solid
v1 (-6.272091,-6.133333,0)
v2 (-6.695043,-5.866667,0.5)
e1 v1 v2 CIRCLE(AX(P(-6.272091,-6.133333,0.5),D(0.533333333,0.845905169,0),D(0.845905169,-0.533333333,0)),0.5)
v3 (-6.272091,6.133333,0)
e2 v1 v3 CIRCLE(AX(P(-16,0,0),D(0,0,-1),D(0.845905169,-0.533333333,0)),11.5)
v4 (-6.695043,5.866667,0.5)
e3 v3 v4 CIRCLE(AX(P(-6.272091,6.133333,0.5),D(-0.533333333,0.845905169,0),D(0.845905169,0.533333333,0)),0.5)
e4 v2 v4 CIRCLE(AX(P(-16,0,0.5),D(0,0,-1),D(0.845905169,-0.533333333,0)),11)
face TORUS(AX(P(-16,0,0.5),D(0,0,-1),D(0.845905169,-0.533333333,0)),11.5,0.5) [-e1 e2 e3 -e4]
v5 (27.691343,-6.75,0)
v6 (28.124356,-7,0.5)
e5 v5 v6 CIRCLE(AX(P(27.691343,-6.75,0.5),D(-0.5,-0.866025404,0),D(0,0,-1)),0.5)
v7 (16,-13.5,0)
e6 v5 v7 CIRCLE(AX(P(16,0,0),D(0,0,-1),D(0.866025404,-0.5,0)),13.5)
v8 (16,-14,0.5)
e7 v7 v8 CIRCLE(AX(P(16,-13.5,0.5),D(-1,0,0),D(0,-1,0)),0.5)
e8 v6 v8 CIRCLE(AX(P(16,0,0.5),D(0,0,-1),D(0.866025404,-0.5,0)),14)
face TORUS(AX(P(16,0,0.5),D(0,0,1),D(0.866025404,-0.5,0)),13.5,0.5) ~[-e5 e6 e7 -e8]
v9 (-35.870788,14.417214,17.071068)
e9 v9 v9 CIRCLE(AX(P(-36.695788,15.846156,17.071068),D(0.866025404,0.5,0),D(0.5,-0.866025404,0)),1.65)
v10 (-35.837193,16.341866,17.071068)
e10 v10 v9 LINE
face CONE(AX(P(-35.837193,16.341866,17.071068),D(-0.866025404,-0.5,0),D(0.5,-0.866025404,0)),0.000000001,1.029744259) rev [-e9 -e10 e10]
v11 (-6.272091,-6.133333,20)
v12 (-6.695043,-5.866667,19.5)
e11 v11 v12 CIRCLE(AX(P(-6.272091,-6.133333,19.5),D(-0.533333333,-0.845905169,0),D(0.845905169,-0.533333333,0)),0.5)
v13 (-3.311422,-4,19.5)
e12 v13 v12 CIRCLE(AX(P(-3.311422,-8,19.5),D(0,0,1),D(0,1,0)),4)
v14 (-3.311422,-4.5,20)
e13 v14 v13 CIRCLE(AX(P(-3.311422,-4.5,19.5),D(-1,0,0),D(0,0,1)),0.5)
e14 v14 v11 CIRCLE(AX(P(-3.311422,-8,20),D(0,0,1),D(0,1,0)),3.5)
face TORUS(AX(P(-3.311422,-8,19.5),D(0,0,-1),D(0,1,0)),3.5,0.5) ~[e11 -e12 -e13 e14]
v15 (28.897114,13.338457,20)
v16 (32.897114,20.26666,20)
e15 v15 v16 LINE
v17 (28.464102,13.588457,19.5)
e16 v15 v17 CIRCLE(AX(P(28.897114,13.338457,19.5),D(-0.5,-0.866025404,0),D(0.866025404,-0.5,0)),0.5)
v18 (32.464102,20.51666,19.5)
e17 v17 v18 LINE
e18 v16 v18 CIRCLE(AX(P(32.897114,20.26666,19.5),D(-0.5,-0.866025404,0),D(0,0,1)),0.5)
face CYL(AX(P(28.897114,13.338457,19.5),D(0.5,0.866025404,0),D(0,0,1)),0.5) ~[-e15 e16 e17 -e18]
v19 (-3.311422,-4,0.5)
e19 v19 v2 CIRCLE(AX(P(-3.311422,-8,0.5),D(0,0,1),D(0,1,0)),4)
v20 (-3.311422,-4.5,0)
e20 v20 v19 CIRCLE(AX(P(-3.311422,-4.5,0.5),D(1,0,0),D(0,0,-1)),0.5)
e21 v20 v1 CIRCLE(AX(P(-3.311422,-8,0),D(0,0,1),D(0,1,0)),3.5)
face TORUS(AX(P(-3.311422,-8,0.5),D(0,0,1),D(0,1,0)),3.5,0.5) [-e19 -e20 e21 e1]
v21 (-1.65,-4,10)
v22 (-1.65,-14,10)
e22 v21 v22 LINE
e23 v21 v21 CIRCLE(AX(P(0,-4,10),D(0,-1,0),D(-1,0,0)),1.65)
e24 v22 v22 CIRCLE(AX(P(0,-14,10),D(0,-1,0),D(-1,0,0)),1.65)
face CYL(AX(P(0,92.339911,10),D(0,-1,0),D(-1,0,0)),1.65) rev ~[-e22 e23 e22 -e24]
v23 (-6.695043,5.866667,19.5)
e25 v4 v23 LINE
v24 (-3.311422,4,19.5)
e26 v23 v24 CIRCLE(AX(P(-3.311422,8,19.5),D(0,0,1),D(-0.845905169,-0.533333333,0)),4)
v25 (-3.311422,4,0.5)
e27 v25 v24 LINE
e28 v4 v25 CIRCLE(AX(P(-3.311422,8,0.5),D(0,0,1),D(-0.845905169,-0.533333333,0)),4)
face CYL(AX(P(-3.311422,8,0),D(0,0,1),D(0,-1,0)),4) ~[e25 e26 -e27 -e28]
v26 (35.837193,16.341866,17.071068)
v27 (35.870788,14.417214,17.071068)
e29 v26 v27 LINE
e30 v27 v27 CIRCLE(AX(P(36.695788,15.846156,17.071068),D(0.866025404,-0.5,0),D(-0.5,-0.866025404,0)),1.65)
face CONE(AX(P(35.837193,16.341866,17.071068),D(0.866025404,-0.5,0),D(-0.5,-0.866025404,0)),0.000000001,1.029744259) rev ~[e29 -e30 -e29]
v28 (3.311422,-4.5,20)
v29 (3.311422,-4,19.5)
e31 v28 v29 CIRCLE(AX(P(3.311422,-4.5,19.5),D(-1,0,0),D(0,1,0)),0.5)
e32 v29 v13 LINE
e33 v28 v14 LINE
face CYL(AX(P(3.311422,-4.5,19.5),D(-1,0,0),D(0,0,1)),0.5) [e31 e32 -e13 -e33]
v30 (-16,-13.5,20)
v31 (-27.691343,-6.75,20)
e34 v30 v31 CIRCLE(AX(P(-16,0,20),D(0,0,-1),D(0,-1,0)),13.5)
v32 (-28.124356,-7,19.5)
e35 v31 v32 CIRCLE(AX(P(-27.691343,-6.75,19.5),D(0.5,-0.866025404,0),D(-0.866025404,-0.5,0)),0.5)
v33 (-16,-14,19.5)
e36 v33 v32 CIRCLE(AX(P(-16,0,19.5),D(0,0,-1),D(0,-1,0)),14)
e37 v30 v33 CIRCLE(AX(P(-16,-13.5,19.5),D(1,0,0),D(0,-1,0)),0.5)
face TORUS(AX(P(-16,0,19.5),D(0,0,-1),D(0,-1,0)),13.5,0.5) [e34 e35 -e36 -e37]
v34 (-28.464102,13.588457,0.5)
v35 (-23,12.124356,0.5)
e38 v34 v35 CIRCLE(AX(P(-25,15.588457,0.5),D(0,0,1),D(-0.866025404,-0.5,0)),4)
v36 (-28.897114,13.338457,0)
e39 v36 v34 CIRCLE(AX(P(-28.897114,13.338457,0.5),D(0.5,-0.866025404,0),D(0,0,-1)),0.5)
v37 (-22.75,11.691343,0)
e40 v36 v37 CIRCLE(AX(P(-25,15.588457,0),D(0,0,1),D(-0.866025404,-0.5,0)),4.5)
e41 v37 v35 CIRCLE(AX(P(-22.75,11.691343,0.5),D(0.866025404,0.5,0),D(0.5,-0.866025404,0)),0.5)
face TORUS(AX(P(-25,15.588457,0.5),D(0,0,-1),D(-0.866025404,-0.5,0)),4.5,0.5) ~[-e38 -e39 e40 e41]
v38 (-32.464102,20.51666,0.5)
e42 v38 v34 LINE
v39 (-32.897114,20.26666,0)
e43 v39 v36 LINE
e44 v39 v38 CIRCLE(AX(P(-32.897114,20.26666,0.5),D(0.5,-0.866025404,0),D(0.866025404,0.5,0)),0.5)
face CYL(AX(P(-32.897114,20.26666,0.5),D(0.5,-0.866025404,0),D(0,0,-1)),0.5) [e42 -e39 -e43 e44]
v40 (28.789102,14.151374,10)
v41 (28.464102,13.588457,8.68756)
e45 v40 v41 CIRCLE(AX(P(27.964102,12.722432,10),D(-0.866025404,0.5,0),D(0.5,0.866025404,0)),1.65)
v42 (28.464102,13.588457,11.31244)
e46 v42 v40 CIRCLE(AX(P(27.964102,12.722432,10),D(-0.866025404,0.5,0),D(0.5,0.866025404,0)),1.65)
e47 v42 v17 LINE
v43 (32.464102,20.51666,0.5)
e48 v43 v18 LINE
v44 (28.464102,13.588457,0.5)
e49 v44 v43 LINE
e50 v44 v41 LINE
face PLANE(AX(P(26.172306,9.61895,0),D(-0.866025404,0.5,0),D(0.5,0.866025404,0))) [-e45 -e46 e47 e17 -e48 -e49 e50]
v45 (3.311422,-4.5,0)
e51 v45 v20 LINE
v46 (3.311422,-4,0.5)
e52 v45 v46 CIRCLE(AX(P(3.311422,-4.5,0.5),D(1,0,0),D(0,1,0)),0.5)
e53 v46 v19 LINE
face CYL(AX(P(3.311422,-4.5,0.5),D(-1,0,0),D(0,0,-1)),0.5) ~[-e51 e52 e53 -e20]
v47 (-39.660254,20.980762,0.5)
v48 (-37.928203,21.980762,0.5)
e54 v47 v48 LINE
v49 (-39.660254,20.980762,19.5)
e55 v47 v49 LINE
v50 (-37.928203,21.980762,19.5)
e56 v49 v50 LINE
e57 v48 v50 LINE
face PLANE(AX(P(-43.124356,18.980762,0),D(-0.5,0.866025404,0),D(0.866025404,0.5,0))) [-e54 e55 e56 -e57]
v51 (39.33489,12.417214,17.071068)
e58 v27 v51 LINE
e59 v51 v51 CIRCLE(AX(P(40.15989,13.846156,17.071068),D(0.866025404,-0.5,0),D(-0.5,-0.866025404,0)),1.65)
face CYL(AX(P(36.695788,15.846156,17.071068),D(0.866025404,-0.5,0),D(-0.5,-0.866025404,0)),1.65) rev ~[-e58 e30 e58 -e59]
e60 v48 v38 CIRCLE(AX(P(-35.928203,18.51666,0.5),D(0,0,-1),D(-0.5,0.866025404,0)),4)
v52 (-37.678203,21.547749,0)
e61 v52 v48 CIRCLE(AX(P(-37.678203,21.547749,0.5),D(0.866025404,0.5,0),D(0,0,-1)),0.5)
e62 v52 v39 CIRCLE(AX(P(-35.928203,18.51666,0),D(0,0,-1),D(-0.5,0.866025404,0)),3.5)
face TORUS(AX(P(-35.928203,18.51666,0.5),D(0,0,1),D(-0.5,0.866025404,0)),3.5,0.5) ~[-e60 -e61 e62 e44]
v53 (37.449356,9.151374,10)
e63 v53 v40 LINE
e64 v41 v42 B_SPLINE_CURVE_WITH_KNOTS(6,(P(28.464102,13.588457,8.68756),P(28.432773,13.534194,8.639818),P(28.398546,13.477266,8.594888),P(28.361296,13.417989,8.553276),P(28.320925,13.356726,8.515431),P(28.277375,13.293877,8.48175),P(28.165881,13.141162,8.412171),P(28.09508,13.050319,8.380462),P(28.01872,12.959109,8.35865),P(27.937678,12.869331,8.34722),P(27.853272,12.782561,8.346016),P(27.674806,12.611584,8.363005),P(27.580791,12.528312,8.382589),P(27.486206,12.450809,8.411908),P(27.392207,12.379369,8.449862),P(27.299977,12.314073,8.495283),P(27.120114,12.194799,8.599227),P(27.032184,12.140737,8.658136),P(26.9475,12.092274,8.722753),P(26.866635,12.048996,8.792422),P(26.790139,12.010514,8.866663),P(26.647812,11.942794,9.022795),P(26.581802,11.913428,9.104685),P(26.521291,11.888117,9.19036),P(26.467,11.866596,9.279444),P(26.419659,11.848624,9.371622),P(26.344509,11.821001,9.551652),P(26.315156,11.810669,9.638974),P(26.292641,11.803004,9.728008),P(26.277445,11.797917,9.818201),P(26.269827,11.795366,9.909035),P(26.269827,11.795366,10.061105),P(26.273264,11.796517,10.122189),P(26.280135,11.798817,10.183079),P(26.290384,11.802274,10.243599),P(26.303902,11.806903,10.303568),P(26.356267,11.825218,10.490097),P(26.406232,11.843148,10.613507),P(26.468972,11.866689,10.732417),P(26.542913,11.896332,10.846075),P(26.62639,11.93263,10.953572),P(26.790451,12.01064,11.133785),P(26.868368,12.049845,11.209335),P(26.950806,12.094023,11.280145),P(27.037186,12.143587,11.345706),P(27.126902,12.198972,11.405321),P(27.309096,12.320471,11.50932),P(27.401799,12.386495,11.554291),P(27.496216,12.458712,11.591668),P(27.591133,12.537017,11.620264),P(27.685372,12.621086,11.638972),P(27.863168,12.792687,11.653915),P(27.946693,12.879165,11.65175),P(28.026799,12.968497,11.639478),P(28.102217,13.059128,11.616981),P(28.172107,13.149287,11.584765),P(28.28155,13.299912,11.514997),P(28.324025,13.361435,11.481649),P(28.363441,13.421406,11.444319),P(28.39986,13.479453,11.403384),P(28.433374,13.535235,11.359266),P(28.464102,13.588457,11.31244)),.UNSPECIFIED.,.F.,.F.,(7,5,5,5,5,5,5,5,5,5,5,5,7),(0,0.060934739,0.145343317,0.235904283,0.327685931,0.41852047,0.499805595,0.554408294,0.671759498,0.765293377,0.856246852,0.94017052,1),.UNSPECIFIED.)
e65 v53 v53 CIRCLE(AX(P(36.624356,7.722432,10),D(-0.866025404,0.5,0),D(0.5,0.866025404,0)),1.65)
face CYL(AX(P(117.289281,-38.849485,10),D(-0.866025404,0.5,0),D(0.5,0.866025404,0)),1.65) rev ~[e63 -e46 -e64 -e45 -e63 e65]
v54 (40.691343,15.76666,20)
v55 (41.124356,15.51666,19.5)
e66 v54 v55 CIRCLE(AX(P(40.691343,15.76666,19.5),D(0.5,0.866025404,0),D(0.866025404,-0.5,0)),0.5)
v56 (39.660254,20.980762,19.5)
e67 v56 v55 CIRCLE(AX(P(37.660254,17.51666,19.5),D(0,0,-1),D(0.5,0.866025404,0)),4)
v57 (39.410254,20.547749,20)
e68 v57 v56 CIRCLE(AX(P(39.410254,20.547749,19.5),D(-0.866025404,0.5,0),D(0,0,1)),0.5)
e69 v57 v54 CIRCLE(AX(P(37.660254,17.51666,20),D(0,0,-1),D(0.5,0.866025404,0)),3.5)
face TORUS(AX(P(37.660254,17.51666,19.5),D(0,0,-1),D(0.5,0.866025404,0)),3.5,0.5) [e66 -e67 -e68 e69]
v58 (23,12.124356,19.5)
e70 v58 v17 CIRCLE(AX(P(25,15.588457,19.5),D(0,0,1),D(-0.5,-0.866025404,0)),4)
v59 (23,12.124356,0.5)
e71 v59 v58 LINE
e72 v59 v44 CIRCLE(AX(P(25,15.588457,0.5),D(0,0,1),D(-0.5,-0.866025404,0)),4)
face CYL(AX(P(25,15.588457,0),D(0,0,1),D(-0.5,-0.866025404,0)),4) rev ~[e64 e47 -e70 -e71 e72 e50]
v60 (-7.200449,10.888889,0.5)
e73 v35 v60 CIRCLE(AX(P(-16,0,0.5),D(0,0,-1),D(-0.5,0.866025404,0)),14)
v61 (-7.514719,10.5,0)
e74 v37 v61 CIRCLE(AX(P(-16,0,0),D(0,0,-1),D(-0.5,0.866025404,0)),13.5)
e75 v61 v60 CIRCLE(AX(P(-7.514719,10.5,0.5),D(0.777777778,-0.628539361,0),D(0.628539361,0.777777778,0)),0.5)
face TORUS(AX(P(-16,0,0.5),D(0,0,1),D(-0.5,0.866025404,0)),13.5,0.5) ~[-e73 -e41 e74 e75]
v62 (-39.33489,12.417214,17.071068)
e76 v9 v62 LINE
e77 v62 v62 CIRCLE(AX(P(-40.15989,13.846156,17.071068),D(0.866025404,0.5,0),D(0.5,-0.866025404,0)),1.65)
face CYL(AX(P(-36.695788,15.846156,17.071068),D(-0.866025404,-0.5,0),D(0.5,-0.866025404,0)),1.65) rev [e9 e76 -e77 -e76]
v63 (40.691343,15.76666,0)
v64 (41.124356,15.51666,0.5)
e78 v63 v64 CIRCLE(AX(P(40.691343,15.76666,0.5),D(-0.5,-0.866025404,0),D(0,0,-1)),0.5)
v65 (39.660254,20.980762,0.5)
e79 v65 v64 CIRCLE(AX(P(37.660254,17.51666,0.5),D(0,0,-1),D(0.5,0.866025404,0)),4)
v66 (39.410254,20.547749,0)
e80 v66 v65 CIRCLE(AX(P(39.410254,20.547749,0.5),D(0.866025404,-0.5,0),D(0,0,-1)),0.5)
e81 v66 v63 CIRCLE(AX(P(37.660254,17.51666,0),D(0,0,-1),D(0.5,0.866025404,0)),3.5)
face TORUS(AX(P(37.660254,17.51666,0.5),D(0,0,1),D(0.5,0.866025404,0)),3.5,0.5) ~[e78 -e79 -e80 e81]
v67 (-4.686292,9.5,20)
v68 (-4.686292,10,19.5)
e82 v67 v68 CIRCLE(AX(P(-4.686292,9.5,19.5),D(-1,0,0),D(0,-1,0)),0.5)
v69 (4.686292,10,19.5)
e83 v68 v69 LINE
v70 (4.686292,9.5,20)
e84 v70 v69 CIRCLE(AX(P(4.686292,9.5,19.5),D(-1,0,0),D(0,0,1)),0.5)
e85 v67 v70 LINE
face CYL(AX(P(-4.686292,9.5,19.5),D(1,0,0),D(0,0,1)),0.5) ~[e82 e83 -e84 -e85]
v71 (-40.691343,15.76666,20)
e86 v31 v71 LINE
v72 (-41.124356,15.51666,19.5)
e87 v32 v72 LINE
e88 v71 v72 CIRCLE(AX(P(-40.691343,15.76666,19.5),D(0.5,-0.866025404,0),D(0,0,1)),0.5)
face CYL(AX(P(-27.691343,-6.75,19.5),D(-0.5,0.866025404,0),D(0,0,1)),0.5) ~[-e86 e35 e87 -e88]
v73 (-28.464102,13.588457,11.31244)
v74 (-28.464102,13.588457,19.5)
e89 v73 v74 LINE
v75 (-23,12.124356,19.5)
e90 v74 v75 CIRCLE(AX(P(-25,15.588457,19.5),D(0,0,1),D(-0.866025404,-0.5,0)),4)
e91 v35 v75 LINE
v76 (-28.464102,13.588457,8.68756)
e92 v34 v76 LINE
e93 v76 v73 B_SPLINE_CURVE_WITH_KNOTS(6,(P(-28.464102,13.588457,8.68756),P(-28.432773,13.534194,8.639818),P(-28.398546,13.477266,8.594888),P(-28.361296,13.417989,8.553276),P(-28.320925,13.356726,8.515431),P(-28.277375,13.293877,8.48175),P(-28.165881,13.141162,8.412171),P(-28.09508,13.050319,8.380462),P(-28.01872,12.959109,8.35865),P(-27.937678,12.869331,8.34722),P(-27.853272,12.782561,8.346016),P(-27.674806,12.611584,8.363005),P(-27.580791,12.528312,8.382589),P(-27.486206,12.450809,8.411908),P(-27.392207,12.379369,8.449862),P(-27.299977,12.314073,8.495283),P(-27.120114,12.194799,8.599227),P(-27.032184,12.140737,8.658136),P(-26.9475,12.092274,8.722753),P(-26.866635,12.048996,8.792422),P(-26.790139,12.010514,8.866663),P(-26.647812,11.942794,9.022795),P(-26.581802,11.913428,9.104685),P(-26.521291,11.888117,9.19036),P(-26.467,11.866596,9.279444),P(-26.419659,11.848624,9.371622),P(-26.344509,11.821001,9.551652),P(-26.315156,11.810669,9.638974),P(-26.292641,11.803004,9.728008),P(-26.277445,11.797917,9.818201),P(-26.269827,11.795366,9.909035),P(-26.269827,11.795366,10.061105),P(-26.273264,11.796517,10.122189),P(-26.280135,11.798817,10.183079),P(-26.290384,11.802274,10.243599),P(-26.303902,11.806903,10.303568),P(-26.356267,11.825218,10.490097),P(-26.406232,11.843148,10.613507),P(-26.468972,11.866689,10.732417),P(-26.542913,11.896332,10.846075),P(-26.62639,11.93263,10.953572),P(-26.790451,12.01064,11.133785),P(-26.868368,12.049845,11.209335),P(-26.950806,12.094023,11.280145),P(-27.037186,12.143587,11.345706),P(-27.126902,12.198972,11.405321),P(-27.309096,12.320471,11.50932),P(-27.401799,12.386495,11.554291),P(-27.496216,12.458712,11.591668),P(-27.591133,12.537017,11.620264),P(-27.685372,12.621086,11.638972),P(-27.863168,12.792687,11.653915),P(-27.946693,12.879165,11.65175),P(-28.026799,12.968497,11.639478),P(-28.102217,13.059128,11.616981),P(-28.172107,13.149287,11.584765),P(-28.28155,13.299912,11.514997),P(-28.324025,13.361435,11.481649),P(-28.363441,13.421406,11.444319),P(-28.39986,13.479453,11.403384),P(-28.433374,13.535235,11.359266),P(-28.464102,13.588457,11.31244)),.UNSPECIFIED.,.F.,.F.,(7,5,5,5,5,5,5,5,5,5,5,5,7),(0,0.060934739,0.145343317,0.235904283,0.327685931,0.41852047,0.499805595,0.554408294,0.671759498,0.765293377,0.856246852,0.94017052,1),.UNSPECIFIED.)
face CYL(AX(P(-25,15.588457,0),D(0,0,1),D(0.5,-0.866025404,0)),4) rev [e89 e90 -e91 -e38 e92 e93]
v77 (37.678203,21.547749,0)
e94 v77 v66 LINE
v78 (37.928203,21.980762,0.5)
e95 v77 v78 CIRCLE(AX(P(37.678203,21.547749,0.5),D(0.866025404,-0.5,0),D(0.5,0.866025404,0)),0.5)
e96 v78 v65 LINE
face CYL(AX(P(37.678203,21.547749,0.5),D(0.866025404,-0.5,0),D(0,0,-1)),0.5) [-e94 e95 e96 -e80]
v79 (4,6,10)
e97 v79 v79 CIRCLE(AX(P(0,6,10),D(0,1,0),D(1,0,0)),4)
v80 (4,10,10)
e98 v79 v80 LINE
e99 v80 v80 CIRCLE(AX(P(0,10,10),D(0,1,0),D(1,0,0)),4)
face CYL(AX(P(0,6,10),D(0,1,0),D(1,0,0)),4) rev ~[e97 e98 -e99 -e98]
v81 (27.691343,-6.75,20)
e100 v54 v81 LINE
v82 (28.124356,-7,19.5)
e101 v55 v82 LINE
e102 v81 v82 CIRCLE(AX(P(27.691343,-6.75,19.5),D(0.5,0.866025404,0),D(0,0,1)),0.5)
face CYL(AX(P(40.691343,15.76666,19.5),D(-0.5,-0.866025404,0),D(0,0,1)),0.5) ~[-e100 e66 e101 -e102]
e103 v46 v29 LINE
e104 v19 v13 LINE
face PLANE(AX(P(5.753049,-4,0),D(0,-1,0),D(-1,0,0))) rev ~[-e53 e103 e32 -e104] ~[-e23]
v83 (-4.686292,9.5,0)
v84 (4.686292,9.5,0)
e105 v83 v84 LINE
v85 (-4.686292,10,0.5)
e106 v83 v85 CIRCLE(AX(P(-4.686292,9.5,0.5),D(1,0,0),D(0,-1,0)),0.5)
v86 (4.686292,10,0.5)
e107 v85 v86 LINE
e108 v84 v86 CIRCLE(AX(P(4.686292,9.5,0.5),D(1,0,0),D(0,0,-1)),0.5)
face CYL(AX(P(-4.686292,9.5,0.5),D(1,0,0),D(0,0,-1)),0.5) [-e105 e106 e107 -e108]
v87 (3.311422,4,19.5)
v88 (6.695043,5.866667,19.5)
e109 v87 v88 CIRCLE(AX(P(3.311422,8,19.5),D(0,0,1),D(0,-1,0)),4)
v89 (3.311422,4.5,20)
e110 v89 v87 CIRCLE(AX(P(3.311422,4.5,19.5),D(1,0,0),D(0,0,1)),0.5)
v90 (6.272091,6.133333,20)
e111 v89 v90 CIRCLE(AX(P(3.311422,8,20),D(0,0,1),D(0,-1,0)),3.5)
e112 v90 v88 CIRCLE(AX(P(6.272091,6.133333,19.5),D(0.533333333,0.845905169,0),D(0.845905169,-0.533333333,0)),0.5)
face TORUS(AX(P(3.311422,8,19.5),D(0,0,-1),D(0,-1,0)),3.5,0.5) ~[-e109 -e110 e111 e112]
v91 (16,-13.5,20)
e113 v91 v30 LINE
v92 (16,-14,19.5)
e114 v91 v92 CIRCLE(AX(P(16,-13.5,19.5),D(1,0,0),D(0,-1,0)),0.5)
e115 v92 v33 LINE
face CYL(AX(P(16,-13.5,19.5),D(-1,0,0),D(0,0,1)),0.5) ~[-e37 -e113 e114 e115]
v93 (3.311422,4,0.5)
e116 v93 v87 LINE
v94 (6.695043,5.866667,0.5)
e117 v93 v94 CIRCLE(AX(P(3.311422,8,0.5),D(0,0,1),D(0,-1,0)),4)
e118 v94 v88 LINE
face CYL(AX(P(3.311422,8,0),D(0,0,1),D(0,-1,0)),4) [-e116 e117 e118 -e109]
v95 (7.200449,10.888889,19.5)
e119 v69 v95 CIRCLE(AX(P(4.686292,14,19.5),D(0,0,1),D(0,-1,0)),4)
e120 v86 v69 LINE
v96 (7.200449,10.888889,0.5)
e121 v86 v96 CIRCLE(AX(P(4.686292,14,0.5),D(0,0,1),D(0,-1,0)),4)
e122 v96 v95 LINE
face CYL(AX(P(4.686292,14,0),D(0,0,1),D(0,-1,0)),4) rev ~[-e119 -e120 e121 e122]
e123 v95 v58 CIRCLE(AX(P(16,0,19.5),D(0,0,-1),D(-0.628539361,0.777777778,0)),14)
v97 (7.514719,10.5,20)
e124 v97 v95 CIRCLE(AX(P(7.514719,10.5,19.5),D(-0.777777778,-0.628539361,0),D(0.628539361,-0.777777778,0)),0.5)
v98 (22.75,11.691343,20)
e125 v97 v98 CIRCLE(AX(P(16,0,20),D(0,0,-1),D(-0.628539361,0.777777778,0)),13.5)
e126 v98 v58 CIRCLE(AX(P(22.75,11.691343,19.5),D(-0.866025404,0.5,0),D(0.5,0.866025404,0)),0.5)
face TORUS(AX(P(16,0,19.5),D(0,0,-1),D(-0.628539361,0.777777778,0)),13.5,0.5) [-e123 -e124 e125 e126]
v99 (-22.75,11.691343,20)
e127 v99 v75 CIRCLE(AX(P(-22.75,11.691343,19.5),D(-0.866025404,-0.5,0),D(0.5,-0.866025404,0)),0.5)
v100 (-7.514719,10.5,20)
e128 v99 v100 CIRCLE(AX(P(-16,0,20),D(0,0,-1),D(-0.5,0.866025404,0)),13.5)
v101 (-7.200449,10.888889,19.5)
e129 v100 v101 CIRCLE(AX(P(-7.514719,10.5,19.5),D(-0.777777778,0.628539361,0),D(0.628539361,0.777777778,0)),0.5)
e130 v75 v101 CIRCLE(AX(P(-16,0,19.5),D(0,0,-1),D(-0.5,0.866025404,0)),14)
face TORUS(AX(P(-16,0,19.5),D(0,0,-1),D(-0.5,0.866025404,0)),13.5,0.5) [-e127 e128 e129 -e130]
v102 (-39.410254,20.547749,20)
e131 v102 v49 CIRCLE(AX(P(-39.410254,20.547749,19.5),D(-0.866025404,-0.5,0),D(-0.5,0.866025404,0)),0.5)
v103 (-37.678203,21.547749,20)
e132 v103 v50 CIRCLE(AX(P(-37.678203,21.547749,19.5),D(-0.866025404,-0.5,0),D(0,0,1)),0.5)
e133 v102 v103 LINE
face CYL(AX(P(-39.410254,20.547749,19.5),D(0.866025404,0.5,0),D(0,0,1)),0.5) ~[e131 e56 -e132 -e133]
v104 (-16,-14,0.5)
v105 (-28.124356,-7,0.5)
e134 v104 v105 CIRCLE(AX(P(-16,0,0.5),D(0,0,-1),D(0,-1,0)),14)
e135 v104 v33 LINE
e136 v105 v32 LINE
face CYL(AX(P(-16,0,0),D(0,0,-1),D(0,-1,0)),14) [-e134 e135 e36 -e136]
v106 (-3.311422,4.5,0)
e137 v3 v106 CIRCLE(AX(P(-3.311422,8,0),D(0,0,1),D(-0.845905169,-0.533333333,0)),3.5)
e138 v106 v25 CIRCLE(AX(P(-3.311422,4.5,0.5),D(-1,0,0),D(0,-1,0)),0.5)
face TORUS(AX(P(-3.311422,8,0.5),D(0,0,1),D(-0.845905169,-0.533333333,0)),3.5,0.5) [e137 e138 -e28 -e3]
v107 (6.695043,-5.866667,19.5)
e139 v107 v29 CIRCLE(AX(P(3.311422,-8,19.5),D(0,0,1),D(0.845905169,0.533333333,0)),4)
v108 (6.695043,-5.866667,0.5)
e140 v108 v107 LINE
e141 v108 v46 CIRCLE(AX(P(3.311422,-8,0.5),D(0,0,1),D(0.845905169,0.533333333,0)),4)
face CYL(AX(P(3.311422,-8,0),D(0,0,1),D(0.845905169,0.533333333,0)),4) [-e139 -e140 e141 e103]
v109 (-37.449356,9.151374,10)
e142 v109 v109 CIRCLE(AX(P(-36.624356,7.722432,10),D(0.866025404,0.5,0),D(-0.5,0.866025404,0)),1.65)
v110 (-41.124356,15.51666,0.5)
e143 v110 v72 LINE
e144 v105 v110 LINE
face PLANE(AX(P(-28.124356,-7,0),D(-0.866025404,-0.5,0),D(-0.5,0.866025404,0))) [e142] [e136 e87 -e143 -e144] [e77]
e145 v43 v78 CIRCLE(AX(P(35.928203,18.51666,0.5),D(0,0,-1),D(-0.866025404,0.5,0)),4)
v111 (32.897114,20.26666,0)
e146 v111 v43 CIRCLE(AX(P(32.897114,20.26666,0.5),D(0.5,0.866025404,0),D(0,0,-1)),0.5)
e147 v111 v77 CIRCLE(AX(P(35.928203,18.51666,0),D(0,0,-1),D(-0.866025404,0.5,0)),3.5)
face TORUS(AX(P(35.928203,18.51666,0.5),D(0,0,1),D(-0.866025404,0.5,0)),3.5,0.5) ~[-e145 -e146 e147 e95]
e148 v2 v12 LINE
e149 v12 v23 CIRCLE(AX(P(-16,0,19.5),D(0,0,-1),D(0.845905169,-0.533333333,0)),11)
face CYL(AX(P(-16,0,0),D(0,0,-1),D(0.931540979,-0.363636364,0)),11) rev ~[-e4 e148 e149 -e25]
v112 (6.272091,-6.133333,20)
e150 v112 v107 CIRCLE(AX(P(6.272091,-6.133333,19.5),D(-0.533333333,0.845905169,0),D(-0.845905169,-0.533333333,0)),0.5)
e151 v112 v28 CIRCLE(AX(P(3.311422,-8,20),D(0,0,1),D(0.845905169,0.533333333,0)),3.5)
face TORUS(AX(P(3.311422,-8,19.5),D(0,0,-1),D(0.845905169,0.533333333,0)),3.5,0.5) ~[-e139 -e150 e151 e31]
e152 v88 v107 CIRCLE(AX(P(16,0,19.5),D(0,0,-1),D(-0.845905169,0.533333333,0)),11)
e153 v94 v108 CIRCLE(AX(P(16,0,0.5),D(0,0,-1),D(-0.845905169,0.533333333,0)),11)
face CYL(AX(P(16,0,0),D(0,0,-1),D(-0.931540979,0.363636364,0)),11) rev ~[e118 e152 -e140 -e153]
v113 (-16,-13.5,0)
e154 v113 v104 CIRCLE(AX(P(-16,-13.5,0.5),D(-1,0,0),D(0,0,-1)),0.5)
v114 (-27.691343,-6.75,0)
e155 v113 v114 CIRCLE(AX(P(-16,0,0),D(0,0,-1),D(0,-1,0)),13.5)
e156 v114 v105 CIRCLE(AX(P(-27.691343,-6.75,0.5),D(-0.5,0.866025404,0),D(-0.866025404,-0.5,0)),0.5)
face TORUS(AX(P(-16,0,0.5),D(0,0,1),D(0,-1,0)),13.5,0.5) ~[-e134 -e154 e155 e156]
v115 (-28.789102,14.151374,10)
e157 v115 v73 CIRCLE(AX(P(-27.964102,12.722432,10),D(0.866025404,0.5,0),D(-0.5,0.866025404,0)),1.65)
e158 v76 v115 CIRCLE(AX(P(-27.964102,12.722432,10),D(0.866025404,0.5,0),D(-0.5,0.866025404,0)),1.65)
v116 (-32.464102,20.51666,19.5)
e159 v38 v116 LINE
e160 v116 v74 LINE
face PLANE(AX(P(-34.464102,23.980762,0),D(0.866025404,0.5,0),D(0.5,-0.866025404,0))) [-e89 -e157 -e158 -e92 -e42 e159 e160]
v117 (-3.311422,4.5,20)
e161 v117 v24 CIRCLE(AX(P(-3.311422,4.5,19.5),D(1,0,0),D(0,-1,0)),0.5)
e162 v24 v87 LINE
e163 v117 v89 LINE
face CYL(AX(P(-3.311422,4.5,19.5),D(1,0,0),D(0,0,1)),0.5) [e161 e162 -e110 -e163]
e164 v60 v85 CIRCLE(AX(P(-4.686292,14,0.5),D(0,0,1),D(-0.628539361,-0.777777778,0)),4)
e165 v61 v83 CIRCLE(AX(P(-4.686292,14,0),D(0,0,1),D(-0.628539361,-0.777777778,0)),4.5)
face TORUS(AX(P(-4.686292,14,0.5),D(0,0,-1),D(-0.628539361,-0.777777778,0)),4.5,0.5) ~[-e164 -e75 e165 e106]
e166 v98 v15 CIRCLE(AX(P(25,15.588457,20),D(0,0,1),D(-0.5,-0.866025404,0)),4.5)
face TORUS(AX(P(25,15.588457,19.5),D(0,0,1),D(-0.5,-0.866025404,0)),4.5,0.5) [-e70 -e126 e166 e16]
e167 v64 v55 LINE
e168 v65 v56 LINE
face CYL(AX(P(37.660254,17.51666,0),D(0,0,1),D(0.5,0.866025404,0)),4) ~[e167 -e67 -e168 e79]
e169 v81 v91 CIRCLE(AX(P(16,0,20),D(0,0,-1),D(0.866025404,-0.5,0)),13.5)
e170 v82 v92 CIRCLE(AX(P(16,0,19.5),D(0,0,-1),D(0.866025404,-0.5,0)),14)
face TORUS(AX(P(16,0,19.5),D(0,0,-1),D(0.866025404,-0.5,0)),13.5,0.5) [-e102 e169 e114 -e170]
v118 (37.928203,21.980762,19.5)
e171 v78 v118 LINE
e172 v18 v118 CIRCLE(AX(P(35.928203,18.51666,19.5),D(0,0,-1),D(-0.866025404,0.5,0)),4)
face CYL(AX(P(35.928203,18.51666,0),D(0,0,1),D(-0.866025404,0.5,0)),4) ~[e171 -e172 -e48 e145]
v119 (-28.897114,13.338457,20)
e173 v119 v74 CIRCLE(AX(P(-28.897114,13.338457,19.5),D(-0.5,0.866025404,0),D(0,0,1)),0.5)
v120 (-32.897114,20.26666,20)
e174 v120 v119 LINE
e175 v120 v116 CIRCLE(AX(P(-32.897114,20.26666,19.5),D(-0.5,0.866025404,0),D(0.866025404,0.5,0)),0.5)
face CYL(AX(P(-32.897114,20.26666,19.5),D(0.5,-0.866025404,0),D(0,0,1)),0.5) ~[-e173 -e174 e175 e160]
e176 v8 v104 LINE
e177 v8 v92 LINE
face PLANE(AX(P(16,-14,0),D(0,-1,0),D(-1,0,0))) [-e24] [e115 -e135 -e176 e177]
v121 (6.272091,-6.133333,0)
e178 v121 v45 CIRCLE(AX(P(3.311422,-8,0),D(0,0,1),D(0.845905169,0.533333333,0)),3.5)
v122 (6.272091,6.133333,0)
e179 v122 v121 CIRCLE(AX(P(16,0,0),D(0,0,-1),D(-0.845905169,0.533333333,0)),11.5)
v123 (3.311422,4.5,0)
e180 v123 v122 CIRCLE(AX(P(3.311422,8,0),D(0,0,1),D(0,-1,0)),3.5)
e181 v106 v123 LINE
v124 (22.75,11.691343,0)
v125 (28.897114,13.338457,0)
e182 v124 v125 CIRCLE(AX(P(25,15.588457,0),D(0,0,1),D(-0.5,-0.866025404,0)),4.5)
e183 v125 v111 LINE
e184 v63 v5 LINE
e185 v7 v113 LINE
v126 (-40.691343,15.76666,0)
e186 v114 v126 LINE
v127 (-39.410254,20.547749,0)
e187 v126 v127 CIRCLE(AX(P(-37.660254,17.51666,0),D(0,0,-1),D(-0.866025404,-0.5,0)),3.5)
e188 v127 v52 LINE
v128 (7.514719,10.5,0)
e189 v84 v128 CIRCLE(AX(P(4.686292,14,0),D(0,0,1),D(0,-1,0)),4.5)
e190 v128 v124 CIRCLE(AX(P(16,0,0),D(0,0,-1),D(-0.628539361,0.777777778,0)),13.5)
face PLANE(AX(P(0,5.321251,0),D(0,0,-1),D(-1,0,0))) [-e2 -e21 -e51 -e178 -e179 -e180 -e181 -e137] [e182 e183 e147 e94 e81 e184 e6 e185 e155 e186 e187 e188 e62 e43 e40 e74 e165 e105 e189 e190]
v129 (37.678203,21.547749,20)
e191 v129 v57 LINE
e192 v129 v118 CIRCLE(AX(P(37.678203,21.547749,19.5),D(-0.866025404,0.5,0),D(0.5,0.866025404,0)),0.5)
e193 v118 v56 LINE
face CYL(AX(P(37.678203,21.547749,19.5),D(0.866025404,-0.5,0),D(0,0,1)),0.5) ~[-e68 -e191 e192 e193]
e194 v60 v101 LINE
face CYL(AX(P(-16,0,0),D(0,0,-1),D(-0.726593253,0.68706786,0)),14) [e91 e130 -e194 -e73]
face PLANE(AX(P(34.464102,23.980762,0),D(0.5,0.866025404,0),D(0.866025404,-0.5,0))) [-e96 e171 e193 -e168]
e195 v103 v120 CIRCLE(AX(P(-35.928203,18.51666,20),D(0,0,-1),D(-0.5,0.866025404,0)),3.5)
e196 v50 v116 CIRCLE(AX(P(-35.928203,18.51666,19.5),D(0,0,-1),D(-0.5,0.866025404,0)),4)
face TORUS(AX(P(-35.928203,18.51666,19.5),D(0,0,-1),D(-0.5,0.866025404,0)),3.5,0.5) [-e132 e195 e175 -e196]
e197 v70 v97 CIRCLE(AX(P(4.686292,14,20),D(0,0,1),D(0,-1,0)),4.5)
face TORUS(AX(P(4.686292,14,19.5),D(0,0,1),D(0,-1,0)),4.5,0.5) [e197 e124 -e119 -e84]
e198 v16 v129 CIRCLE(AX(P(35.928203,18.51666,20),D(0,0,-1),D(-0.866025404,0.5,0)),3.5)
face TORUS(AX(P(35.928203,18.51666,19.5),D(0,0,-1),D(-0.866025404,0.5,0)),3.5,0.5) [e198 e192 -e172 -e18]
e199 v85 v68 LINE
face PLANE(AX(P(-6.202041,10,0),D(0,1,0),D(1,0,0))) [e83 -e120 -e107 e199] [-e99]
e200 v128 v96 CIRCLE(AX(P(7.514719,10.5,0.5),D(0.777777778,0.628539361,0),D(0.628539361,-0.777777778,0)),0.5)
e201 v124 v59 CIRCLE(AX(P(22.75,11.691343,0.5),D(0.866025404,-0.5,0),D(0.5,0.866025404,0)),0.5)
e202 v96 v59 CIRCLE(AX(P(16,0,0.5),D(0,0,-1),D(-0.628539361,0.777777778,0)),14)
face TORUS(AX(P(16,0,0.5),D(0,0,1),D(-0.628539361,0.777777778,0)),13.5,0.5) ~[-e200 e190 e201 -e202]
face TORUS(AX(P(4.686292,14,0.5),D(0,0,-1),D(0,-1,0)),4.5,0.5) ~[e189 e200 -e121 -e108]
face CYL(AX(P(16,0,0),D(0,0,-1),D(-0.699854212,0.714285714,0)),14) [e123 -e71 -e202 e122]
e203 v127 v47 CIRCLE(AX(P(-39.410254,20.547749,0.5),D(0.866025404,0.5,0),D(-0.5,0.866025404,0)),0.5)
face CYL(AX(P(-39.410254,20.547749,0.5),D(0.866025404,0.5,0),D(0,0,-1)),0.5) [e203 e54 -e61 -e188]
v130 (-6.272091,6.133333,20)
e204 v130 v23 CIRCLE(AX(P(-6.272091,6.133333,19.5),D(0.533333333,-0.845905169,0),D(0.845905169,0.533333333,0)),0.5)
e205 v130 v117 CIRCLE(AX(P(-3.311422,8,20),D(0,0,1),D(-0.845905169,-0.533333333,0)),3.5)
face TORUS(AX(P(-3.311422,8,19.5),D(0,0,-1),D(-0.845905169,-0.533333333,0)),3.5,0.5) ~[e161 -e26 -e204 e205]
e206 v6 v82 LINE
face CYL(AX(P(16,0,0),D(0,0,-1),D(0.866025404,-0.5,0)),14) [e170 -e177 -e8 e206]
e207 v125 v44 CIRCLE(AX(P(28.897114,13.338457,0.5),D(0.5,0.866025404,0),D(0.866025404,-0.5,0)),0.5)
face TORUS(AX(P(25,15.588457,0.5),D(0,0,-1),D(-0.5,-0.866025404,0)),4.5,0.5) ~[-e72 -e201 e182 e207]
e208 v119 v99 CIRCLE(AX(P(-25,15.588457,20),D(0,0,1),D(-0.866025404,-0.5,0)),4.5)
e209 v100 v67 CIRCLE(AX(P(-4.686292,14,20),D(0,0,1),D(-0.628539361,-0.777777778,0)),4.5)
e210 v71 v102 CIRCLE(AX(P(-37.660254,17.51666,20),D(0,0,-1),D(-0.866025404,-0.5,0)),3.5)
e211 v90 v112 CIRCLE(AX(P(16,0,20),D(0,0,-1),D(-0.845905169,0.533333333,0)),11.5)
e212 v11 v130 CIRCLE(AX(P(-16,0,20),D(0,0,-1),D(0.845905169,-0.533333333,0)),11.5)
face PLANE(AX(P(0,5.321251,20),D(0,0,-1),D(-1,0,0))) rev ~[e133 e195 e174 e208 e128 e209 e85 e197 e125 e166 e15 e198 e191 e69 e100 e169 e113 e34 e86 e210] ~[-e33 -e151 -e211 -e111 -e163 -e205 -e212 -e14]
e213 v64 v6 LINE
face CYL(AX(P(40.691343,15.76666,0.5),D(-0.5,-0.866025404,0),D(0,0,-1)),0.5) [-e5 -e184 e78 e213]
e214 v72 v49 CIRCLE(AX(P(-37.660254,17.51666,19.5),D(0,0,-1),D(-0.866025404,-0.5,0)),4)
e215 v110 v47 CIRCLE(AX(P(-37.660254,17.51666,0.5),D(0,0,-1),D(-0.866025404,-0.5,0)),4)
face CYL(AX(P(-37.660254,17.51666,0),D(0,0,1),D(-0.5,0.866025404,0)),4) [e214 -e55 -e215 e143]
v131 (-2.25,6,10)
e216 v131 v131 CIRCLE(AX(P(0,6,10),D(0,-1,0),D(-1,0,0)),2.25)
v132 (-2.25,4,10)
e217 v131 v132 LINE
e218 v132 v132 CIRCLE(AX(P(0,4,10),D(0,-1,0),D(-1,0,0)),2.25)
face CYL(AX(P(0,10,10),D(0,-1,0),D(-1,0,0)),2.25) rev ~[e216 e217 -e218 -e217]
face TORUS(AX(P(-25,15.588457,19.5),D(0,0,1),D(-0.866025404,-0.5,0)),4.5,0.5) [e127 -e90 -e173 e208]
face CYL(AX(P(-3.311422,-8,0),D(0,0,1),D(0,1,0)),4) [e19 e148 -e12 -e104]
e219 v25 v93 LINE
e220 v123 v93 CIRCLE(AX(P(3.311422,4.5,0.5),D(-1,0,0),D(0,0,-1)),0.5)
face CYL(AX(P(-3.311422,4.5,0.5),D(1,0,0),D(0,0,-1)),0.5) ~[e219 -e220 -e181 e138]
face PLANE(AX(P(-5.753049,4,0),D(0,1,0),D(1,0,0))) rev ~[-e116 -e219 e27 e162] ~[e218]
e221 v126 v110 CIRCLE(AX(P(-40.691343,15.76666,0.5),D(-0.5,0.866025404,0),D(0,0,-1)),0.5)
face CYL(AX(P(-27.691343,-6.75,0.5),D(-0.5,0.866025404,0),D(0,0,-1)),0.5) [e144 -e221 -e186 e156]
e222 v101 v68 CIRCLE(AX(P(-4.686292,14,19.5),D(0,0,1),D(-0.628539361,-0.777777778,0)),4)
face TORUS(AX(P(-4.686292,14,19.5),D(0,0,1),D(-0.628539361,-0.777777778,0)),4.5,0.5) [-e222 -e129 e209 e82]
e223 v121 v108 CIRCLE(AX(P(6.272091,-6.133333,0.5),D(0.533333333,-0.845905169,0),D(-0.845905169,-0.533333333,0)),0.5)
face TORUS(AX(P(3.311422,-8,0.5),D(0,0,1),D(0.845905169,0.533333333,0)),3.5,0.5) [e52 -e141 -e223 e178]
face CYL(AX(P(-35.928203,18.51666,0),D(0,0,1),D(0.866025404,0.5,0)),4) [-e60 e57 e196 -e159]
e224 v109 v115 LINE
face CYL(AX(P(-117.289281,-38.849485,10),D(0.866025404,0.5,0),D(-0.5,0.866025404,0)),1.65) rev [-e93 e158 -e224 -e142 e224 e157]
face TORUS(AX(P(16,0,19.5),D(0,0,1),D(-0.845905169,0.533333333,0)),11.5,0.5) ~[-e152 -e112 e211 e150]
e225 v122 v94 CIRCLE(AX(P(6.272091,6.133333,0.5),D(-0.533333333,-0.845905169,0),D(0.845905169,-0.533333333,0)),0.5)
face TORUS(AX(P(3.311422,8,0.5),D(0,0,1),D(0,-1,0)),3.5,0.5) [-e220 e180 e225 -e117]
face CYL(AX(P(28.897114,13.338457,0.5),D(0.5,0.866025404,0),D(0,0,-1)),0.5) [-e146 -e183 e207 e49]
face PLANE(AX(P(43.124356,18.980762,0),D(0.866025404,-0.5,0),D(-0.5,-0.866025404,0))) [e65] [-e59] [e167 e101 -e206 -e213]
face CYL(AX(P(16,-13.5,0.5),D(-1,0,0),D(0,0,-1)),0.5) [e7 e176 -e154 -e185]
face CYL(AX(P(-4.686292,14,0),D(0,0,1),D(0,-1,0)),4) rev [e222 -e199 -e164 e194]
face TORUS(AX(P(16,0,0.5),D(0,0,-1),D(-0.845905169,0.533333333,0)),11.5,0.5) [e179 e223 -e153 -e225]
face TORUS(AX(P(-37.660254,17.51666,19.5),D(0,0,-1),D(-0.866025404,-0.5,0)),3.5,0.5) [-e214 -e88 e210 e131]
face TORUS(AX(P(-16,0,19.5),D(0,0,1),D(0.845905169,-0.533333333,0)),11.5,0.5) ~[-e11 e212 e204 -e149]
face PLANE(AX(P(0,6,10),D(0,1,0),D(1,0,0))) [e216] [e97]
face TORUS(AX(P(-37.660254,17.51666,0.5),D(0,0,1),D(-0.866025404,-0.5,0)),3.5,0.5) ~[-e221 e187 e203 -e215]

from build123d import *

# Parameters (mm, degrees)
EXTRUDE_2_DEPTH             = 20
HOLE_WIZARD_M41_D           = 4.5
HOLE_WIZARD_M41_DEPTH       = 6
HOLE_WIZARD_M41_CBORE_D     = 8
HOLE_WIZARD_M41_CBORE_DEPTH = 4
M4X0_71_D                   = 3.3
FILLET_1_R                  = 4
FILLET_2_R                  = 0.5
M4X0_72_D                   = 3.3


with BuildPart() as part:
    # Эскиз1 → Бобышка-Вытянуть2 (new body)
    with BuildSketch(Plane.XY):
        with BuildLine():
            Line((-6.202041029, 10), (6.202041029, 10))
            ThreePointArc((6.202041029, 10), (16.267083523, 13.997452139), (26.172305548, 9.618950039))
            Line((26.172305548, 9.618950039), (34.464101615, 23.980762114))
            Line((34.464101615, 23.980762114), (43.124355653, 18.980762114))
            Line((43.124355653, 18.980762114), (28.124355653, -7))
            ThreePointArc((28.124355653, -7), (23, -12.124355653), (16, -14))
            Line((16, -14), (-16, -14))
            ThreePointArc((-16, -14), (-23, -12.124355653), (-28.124355653, -7))
            Line((-28.124355653, -7), (-43.124355653, 18.980762114))
            Line((-43.124355653, 18.980762114), (-34.464101615, 23.980762114))
            Line((-34.464101615, 23.980762114), (-26.172305548, 9.618950039))
            ThreePointArc((-26.172305548, 9.618950039), (-16.267083523, 13.997452139), (-6.202041029, 10))
        make_face()
        with BuildLine():
            Line((-5.753049234, 4), (5.753049234, 4))
            ThreePointArc((5.753049234, 4), (27, 0), (5.753049234, -4))
            Line((5.753049234, -4), (-5.753049234, -4))
            ThreePointArc((-5.753049234, -4), (-27, 0), (-5.753049234, 4))
        make_face(mode=Mode.SUBTRACT)
    extrude(amount=EXTRUDE_2_DEPTH)

    # Цековка для винта с внутренним шестигранником M41
    with Locations(Plane(origin=(0, 10, 0), x_dir=(1, 0, 0), z_dir=(0, 1, 0))):
        with Locations((0, -10)):
            CounterBoreHole(HOLE_WIZARD_M41_D / 2, HOLE_WIZARD_M41_CBORE_D / 2, HOLE_WIZARD_M41_CBORE_DEPTH, depth=HOLE_WIZARD_M41_DEPTH)

    # Отверстие обработанное метчиком M4x0.71 (through all)
    with Locations(Plane(origin=(0, -4, 0), x_dir=(1, 0, 0), z_dir=(0, 1, 0))):
        with Locations((0, -10)):
            Hole(M4X0_71_D / 2)

    # Скругление1
    fillet_1_edges = [part.edges().sort_by_distance(p)[0] for p in [
        (-6.202041029, 10, 10),
        (6.202041029, 10, 10),
        (26.172305548, 9.618950039, 10),
        (34.464101615, 23.980762114, 10),
        (43.124355653, 18.980762114, 10),
        (-43.124355653, 18.980762114, 10),
        (-34.464101615, 23.980762114, 10),
        (-26.172305548, 9.618950039, 10),
        (-5.753049234, 4, 10),
        (-5.753049234, -4, 10),
        (5.753049234, -4, 10),
        (5.753049234, 4, 10),
    ]]
    fillet(fillet_1_edges, radius=FILLET_1_R)

    # Скругление2
    fillet_2_edges = [part.edges().sort_by_distance(p)[0] for p in [
        (34.624355653, 4.258330249, 0),
        (23, -12.124355653, 0),
        (0, -14, 0),
        (-23, -12.124355653, 0),
        (-23, -12.124355653, 20),
        (0, -14, 20),
        (23, -12.124355653, 20),
        (34.624355653, 4.258330249, 20),
        (-27, 0, 0),
        (-27, 0, 20),
        (-14.908583246, 13.957392646, 0),
        (0, 10, 0),
        (14.908583246, 13.957392646, 0),
        (30.464101615, 17.052558883, 0),
        (38.794228634, 21.480762114, 0),
        (-34.624355653, 4.258330249, 0),
        (-38.794228634, 21.480762114, 0),
        (-30.464101615, 17.052558883, 0),
        (0, -4, 0),
        (27, 0, 0),
        (0, 4, 0),
        (34.89292705, 22.380363804, 0),
        (41.523957343, 18.551936679, 0),
        (-34.89292705, 22.380363804, 0),
        (-41.523957343, 18.551936679, 0),
        (-5.243606026, 4.497619857, 0),
        (5.243606026, 4.497619857, 0),
        (5.243606026, -4.497619857, 0),
        (-5.243606026, -4.497619857, 0),
        (0, -4, 20),
        (-14.908583246, 13.957392646, 20),
        (-30.464101615, 17.052558883, 20),
        (-38.794228634, 21.480762114, 20),
        (-34.624355653, 4.258330249, 20),
        (38.794228634, 21.480762114, 20),
        (30.464101615, 17.052558883, 20),
        (14.908583246, 13.957392646, 20),
        (0, 10, 20),
        (0, 4, 20),
        (27, 0, 20),
        (34.89292705, 22.380363804, 20),
        (41.523957343, 18.551936679, 20),
        (-34.89292705, 22.380363804, 20),
        (-41.523957343, 18.551936679, 20),
        (-5.243606026, 4.497619857, 20),
        (5.243606026, 4.497619857, 20),
        (5.243606026, -4.497619857, 20),
        (-5.243606026, -4.497619857, 20),
        (26.03527618, 11.724753963, 0),
        (26.03527618, 11.724753963, 20),
        (6.019624834, 10.228763834, 0),
        (6.019624834, 10.228763834, 20),
        (-6.019624834, 10.228763834, 0),
        (-6.019624834, 10.228763834, 20),
        (-26.03527618, 11.724753963, 0),
        (-26.03527618, 11.724753963, 20),
    ]]
    fillet(fillet_2_edges, radius=FILLET_2_R)

    # Отверстие обработанное метчиком M4x0.72 (through all)
    with Locations(Plane(origin=(24.124355653, -13.92820323, 0), x_dir=(-0.5, -0.866025404, 0), z_dir=(0.866025404, -0.5, 0))):
        with Locations((-25, -10)):
            m4x0_72 = Hole(M4X0_72_D / 2)

    # Зеркальное отражение1: Отверстие обработанное метчиком M4x0.72 across plane
    add(m4x0_72.mirror(Plane(origin=(0, 0, 0), x_dir=(0, 0, 1), z_dir=(1, 0, 0))), mode=Mode.SUBTRACT)

    # Эскиз13 → Отверстие обработанное метчиком M4x0.73 (revolve, cut)
    with BuildSketch(Plane(origin=(-40.159889559, 13.846156221, 17.071067812), x_dir=(0.5, -0.866025404, 0), z_dir=(0, 0, 1))):
        Polygon((0, 0), (0, 4.991420021), (1.65, 4), (1.65, 0), align=None)
    m4x0_73 = revolve(axis=Axis((-45.659150873, 10.671156221, 17.071067812), (0.866025404, 0.5, 0)), mode=Mode.SUBTRACT)

    # Зеркальное отражение3: Отверстие обработанное метчиком M4x0.73 across plane
    add(m4x0_73.mirror(Plane(origin=(0, 0, 0), x_dir=(0, 0, 1), z_dir=(1, 0, 0))), mode=Mode.SUBTRACT)


solid = part.part
